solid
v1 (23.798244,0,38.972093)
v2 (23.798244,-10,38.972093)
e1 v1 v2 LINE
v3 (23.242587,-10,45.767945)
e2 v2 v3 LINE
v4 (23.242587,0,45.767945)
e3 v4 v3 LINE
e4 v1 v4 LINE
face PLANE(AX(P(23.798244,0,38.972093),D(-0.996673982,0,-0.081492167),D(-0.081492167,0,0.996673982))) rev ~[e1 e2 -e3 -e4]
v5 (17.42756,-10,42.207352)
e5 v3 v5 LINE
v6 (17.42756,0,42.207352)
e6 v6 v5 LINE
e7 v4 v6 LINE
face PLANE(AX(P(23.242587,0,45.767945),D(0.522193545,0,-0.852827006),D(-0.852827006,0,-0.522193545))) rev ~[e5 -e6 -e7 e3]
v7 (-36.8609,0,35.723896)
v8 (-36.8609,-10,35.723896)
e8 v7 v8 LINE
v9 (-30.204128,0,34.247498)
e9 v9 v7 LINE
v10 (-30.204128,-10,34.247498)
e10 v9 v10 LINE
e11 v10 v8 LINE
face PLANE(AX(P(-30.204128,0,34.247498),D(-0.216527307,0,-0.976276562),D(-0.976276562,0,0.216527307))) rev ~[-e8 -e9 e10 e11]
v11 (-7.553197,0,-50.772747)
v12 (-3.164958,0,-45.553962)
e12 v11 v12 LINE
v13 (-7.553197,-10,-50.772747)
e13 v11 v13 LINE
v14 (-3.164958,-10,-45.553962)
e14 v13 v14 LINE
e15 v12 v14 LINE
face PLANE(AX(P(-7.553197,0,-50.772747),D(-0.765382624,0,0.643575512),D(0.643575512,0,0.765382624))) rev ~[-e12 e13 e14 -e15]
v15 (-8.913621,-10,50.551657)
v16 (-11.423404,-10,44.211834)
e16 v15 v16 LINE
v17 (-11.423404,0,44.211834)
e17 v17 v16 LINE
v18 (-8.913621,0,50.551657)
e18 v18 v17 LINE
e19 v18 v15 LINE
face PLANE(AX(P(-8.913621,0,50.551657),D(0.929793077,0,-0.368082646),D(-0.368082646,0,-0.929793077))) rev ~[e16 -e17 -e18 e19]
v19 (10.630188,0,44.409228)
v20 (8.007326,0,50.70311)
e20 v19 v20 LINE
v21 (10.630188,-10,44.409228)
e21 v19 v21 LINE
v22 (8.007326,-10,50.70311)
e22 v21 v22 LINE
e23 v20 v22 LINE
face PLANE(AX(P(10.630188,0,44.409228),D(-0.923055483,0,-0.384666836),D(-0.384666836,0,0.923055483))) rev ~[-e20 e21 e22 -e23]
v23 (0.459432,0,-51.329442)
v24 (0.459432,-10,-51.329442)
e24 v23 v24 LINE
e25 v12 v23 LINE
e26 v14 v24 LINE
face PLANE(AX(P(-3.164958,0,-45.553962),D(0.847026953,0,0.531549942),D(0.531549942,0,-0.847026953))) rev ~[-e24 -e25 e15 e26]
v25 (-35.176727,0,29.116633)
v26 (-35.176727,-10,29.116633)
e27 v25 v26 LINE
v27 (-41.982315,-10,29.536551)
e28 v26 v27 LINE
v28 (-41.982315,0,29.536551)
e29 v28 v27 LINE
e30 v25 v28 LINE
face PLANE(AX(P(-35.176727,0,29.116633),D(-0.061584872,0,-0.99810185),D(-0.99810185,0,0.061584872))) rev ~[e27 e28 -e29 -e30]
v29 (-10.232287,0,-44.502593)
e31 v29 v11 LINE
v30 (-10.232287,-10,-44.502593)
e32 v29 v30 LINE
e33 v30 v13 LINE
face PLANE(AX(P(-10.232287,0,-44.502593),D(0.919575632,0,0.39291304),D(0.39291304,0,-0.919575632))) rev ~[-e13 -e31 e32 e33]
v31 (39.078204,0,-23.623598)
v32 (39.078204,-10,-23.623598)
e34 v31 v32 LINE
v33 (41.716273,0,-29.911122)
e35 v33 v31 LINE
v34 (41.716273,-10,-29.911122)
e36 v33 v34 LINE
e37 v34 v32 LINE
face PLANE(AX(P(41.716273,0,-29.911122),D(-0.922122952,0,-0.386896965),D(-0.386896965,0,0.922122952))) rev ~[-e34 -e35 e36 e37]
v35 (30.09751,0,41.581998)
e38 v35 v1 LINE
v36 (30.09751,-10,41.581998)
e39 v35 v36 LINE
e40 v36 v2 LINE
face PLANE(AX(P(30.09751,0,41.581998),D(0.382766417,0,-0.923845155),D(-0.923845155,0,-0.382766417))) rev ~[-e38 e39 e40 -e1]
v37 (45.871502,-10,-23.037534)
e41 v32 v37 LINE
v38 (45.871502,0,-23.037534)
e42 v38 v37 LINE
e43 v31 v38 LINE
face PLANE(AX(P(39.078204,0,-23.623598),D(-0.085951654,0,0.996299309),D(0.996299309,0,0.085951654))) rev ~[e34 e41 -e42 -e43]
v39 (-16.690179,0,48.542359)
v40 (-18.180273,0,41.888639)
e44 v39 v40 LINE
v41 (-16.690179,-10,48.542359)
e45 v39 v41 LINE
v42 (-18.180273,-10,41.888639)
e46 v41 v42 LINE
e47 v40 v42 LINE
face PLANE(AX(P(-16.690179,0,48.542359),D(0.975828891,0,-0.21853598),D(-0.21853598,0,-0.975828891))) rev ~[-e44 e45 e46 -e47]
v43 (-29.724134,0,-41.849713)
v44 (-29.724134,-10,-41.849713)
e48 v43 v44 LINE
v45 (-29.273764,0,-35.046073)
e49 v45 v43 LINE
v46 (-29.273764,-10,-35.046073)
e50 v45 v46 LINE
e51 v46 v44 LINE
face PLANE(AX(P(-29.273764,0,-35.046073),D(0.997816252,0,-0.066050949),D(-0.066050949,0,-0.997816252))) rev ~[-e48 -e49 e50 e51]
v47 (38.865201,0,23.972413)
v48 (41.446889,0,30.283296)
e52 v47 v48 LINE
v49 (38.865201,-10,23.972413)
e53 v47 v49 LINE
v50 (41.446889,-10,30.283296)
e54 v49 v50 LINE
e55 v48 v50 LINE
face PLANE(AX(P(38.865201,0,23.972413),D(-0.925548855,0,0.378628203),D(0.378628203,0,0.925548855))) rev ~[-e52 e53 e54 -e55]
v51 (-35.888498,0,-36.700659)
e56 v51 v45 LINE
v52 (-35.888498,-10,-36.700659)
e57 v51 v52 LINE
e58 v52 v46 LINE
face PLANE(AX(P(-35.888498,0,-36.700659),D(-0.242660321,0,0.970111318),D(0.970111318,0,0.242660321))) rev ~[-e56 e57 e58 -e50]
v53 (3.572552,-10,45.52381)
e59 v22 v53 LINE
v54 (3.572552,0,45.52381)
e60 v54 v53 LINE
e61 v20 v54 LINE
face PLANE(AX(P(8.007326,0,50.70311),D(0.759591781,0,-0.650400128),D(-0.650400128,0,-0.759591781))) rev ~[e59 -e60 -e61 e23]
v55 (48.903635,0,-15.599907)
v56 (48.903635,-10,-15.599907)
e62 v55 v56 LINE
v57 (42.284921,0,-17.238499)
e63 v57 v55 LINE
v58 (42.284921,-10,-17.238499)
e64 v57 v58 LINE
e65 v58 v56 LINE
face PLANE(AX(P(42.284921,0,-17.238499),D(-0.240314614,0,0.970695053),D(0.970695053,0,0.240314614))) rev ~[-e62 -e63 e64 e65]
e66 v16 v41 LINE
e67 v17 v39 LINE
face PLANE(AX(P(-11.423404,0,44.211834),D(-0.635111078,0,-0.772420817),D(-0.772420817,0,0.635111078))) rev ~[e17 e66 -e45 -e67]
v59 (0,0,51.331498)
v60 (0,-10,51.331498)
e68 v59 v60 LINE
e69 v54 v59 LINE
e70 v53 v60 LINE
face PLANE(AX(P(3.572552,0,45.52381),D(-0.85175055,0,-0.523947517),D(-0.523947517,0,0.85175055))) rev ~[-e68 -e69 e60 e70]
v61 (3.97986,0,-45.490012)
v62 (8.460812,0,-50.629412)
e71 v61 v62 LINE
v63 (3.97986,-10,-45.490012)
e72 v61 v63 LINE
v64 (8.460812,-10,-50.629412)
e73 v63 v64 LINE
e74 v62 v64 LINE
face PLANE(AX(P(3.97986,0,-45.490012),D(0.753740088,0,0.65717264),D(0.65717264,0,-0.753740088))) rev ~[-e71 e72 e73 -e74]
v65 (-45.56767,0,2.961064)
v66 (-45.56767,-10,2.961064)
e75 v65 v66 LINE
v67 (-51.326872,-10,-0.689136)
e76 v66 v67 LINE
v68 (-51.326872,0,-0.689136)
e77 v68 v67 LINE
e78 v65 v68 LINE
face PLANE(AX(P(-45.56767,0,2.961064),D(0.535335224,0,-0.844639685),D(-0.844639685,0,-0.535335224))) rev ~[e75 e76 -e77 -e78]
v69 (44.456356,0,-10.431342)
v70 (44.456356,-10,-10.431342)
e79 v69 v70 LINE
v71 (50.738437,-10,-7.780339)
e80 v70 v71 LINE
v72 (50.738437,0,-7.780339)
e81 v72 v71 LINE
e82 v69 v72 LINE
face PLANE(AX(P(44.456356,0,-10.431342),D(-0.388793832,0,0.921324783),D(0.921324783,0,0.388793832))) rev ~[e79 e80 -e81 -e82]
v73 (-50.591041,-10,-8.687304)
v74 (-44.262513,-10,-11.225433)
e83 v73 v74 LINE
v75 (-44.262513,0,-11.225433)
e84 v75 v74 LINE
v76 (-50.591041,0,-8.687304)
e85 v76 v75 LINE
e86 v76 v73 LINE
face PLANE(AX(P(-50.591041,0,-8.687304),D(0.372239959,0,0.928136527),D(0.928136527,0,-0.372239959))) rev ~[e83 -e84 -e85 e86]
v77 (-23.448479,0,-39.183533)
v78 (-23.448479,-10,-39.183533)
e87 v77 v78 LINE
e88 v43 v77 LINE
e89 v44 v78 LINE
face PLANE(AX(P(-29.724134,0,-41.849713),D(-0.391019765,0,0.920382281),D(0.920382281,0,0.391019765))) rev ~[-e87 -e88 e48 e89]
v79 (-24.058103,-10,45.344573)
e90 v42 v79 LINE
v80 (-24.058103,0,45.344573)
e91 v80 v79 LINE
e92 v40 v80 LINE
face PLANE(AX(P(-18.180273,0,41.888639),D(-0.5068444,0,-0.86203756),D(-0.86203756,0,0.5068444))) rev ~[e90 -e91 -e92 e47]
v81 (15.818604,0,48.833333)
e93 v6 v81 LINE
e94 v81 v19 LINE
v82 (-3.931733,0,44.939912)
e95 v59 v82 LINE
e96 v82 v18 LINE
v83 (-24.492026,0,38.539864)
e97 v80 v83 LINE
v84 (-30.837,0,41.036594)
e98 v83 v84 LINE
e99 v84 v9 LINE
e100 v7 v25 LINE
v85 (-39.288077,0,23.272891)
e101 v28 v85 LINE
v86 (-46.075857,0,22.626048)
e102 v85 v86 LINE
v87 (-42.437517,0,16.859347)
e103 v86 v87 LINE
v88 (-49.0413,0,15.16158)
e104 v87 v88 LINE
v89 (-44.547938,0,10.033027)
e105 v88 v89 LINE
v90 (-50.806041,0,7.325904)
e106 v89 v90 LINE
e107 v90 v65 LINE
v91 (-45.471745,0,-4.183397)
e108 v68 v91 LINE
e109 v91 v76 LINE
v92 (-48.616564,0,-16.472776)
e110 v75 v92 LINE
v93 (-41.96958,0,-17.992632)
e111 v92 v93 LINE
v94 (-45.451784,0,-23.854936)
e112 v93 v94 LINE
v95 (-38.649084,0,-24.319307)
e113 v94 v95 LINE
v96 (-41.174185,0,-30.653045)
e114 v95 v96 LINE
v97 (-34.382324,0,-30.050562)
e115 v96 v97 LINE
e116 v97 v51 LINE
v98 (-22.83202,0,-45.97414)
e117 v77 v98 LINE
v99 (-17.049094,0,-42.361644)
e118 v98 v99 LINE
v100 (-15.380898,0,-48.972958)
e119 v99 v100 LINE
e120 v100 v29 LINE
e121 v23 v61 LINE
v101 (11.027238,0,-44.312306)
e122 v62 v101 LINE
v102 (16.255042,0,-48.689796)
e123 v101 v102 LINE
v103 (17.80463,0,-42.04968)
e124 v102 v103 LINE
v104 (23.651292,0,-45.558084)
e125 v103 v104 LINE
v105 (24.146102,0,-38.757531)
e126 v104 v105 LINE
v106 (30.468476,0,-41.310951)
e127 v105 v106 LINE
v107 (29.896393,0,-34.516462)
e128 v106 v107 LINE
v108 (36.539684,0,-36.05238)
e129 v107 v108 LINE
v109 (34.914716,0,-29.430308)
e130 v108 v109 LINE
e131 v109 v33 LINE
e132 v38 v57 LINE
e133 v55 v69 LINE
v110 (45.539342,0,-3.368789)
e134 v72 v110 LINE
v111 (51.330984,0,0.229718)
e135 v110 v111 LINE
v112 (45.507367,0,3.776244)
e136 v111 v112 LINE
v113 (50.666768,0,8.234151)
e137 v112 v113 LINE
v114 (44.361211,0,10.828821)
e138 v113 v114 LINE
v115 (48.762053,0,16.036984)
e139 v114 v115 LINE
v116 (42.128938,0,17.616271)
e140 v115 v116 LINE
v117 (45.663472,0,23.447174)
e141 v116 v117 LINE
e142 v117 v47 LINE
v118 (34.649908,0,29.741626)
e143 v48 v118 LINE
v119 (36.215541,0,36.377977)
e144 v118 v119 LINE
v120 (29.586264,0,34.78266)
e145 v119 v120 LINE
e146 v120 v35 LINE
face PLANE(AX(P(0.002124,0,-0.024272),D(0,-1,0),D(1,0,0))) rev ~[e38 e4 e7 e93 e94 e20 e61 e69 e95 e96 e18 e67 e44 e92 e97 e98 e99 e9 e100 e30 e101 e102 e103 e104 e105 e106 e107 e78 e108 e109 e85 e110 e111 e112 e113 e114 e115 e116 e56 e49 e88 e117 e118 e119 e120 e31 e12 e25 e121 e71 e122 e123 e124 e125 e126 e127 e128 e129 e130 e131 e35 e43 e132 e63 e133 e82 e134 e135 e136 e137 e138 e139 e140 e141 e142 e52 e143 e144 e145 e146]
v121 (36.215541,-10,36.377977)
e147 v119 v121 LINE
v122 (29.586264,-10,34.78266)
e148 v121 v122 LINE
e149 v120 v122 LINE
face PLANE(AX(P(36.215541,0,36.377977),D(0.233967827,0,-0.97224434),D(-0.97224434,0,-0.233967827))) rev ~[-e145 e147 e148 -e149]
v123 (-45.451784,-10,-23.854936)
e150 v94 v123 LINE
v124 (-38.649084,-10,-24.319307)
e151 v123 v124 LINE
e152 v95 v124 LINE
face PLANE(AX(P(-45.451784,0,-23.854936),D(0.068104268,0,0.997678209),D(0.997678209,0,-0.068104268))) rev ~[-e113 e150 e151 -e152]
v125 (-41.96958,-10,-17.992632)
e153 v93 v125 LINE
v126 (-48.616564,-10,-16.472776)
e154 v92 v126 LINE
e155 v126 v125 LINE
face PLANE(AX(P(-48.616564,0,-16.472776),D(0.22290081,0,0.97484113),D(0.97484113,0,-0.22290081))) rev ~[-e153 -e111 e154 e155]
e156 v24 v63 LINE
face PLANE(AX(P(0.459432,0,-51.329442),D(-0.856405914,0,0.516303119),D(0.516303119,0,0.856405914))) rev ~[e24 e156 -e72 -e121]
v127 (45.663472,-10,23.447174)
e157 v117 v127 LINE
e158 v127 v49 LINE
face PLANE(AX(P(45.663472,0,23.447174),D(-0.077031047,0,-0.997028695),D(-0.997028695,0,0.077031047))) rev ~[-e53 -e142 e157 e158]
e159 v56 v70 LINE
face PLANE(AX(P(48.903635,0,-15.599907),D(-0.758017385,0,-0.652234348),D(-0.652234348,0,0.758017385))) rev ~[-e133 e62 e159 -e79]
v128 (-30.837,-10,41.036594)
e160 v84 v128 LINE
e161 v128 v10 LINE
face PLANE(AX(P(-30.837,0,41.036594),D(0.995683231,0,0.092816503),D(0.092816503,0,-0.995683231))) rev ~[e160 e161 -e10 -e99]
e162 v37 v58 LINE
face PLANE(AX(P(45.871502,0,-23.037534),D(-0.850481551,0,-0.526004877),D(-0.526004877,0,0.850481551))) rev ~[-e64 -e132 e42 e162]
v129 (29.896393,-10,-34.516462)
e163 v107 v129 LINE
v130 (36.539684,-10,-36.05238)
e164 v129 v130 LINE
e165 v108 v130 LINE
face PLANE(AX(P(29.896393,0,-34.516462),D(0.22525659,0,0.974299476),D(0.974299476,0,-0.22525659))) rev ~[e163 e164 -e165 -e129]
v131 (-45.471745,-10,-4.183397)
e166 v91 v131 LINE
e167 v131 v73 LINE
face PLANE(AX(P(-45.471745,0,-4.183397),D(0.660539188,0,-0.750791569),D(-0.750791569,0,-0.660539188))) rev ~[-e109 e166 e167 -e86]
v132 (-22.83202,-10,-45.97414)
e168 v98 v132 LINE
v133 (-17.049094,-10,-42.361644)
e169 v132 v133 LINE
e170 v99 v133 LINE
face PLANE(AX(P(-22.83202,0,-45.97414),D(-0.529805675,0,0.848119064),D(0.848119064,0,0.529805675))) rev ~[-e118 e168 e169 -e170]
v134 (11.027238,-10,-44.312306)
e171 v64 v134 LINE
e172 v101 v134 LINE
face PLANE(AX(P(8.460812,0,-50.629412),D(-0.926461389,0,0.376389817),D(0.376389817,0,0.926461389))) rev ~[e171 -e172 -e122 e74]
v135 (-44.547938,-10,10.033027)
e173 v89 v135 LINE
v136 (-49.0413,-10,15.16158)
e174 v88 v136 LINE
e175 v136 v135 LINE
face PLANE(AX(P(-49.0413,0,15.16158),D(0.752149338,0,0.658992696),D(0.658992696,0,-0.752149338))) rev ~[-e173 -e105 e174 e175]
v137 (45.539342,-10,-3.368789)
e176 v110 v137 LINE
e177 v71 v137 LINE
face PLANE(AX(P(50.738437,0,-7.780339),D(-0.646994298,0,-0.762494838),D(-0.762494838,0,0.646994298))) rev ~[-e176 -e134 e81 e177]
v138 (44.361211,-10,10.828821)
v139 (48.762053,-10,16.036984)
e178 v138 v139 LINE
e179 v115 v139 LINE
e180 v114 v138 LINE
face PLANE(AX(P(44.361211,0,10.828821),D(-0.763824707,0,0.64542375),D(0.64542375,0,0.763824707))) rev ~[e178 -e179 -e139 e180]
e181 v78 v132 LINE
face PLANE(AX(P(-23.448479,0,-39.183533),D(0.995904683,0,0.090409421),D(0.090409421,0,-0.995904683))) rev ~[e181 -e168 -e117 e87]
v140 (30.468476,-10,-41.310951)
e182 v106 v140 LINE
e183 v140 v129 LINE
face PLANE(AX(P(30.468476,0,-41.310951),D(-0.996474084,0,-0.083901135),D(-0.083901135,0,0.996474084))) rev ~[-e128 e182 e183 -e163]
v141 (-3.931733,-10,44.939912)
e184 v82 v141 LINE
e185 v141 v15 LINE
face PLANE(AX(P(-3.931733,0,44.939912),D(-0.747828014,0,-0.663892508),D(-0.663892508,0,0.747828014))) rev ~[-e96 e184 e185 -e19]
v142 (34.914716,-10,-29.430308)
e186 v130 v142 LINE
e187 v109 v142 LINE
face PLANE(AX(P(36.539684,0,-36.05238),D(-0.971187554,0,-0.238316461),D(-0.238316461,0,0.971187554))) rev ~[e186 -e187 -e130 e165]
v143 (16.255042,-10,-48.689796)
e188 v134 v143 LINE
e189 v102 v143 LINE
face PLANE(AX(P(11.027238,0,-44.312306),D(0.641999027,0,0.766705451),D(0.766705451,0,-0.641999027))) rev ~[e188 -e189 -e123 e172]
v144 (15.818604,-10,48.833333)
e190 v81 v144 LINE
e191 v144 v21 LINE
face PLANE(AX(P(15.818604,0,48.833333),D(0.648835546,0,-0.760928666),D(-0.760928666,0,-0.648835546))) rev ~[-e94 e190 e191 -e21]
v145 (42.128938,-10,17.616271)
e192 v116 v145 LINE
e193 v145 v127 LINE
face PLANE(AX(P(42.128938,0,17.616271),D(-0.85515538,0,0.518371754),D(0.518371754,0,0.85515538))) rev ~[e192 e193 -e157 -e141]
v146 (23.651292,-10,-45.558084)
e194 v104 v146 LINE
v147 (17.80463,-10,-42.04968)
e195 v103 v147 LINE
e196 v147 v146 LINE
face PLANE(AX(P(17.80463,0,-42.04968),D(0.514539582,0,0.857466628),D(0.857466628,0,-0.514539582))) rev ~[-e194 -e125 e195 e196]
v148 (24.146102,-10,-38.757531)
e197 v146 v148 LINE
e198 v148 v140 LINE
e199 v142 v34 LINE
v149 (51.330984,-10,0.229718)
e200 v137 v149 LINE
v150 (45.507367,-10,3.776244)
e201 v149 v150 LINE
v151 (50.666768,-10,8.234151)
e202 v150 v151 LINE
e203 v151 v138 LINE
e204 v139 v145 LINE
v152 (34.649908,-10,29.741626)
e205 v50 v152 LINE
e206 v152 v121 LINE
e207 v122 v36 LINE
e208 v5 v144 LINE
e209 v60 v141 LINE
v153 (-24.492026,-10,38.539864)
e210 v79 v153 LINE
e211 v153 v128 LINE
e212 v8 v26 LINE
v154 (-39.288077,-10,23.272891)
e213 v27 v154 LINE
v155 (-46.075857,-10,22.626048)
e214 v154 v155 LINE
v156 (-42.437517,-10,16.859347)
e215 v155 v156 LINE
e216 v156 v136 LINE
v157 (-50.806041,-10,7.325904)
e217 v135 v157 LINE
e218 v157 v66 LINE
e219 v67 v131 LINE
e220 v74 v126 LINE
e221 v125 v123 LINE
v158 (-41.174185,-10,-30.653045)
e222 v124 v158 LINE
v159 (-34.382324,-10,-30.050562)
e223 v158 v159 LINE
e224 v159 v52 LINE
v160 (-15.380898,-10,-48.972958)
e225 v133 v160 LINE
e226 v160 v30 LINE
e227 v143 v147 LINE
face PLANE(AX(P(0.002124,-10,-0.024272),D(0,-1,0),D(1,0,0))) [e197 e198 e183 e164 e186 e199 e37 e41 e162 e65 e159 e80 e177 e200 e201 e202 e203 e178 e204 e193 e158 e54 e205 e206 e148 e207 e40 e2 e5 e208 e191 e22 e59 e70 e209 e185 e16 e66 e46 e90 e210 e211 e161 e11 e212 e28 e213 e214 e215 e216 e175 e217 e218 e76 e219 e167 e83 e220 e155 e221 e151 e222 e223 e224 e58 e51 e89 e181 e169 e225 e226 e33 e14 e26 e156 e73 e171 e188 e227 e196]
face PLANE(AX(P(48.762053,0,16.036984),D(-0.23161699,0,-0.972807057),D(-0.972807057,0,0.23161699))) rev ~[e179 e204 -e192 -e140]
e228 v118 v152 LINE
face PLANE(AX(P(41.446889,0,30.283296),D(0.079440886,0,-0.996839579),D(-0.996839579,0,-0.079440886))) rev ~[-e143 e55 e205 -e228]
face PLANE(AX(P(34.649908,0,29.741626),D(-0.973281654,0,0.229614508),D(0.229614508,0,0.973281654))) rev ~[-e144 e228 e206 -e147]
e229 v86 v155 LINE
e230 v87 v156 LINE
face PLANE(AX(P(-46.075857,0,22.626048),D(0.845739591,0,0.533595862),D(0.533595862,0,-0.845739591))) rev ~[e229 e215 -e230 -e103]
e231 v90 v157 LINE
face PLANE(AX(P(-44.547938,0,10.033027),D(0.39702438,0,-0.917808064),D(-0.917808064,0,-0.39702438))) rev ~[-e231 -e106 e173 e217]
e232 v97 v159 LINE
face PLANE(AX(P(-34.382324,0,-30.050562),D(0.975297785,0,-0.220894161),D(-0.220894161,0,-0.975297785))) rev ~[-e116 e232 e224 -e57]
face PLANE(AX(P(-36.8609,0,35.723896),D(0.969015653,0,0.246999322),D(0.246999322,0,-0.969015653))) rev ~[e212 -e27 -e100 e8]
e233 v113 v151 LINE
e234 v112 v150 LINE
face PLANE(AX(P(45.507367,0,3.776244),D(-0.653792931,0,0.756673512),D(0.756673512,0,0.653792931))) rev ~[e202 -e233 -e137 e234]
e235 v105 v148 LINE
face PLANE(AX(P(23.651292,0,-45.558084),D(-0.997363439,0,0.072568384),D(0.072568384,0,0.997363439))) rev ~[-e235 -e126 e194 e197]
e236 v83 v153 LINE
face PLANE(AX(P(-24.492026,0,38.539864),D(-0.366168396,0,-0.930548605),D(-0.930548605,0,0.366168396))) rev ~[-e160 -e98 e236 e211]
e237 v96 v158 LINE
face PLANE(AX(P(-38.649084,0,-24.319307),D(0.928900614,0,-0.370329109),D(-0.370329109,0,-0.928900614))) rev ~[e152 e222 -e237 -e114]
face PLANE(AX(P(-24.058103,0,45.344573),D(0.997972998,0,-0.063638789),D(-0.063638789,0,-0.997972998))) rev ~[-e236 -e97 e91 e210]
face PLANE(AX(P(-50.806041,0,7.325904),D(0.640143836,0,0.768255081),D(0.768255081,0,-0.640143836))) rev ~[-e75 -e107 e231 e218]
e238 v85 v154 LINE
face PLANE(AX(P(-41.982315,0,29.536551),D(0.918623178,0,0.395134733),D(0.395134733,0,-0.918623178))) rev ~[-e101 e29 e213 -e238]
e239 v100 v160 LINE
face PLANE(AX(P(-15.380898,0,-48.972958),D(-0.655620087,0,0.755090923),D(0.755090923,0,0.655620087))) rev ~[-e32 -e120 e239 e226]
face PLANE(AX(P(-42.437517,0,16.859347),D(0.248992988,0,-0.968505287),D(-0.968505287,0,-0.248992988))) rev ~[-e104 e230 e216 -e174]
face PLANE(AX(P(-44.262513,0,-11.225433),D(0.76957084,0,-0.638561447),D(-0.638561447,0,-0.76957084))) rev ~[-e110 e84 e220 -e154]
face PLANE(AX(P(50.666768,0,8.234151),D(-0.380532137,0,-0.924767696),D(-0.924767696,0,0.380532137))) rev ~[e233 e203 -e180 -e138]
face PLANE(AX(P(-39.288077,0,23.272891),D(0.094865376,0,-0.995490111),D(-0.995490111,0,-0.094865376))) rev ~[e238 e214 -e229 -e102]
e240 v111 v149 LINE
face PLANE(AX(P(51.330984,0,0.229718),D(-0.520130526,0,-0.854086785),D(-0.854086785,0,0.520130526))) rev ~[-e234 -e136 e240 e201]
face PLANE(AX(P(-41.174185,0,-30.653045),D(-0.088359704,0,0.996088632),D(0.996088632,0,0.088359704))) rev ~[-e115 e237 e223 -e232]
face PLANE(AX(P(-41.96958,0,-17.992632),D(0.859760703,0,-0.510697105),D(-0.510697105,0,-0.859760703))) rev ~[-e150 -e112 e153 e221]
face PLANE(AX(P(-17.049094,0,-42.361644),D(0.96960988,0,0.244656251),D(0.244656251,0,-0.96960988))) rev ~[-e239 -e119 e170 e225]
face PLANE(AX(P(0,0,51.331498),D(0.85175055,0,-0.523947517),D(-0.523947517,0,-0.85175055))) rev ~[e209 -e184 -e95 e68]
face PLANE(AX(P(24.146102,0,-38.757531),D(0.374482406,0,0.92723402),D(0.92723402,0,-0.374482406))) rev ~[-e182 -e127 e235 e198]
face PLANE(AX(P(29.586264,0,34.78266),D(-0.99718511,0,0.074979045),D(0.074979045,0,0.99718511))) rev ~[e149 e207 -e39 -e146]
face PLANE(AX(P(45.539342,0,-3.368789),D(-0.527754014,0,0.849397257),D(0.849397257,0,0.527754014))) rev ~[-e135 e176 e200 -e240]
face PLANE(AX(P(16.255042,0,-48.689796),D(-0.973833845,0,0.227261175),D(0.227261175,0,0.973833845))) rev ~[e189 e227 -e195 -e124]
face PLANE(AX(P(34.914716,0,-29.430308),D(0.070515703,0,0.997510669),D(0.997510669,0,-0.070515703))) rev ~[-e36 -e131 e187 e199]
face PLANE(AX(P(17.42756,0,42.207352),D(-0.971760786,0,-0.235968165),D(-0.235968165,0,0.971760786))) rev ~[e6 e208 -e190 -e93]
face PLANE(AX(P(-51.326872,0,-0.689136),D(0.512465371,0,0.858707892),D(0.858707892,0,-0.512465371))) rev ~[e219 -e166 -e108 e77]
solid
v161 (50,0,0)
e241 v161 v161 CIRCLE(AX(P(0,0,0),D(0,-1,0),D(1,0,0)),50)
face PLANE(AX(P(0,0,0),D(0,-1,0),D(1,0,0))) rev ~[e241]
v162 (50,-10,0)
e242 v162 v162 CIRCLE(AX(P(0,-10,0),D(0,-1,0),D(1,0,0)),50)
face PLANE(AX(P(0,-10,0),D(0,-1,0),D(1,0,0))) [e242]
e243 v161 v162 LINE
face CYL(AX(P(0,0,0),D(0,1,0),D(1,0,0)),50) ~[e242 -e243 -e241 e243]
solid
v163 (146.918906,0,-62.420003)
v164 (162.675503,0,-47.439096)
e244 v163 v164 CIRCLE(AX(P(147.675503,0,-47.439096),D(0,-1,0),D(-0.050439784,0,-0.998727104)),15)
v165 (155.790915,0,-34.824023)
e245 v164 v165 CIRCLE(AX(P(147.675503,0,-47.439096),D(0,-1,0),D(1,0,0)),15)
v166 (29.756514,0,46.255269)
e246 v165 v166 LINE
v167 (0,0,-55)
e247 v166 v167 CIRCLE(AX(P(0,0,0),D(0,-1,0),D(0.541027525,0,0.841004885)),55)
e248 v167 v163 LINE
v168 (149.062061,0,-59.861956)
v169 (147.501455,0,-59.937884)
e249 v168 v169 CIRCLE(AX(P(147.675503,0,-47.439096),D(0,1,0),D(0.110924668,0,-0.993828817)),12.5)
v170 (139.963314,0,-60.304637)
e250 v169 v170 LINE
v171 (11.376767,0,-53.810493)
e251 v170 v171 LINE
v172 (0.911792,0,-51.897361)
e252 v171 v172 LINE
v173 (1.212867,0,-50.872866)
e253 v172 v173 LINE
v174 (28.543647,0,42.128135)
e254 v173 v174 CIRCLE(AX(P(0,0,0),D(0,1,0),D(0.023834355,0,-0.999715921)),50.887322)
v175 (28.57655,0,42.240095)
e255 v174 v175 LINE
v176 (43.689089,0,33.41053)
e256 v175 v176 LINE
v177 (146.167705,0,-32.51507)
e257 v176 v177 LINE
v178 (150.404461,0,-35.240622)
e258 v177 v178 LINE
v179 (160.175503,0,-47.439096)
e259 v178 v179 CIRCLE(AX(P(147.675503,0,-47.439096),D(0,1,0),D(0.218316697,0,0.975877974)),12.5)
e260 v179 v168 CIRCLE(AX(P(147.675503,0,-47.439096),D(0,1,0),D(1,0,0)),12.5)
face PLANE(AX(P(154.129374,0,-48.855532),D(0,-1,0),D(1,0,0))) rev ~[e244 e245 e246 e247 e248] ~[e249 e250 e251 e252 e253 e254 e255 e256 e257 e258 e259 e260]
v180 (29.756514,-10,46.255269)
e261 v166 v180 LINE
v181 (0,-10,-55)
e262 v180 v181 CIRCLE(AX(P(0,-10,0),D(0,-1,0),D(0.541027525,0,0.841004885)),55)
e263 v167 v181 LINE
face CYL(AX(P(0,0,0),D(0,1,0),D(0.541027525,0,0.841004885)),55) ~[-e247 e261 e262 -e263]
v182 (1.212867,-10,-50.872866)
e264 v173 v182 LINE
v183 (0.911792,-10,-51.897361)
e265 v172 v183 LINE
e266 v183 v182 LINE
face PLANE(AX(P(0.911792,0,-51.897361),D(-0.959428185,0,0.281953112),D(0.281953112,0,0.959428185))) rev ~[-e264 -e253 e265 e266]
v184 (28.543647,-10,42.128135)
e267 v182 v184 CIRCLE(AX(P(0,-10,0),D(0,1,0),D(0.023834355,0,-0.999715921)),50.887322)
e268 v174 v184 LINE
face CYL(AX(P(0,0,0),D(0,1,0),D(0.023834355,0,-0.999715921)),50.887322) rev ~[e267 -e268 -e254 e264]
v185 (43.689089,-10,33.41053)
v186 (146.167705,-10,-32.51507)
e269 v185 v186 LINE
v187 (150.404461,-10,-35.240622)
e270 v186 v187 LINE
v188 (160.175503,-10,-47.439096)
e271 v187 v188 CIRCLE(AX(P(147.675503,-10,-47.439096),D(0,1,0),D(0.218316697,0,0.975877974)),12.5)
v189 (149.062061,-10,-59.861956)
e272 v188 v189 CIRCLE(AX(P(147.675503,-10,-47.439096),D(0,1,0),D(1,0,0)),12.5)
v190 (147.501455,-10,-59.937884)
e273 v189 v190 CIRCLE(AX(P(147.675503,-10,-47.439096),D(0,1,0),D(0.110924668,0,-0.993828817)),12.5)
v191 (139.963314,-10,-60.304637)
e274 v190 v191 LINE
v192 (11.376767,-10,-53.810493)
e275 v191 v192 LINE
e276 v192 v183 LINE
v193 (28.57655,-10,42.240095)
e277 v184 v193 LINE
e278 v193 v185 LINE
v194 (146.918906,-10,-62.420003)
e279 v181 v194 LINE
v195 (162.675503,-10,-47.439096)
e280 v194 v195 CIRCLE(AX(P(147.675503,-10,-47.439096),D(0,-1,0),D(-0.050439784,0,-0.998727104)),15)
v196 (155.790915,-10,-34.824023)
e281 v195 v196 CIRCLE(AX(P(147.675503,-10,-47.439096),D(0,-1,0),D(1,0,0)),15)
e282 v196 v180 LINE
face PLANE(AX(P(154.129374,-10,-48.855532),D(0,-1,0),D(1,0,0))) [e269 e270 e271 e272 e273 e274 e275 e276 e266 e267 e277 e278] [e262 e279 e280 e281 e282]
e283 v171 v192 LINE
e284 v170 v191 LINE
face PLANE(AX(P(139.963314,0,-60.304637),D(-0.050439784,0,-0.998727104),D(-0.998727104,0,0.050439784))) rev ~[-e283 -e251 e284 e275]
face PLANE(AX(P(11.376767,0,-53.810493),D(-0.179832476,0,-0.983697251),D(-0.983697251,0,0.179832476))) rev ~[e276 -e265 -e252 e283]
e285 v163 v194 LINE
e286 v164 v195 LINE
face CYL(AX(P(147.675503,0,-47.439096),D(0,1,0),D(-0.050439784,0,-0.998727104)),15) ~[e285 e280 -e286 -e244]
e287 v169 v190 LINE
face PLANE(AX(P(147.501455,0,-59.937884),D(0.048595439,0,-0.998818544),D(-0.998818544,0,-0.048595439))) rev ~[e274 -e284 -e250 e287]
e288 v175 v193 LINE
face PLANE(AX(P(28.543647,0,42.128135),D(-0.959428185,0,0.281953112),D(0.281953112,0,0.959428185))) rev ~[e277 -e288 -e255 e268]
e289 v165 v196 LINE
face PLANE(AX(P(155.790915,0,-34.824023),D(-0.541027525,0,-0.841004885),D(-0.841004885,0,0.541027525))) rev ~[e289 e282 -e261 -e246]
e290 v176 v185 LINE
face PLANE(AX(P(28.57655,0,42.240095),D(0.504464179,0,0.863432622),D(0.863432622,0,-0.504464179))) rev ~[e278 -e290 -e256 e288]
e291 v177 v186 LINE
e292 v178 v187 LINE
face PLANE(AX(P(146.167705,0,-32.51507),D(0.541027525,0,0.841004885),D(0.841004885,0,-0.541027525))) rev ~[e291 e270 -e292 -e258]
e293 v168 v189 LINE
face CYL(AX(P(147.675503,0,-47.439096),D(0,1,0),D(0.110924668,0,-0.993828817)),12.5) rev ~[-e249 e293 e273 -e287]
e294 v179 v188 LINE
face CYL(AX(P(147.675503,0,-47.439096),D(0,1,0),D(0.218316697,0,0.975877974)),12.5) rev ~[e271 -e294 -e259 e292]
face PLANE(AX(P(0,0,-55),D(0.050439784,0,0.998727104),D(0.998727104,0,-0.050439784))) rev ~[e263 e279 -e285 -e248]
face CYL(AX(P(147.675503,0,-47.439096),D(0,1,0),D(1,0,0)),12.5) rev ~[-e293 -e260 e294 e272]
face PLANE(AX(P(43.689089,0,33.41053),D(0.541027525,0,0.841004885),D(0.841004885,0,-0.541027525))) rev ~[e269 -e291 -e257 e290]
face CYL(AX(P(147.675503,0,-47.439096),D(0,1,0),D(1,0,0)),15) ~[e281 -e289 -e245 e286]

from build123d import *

# Parameters (mm, degrees)
F0_R     = 50
F1_DEPTH = 10
F3_DEPTH = 10
F5_DEPTH = 10


with BuildPart() as f1:
    # F0 (on Front) → F1 (new body)
    with BuildSketch(Plane.XZ):
        Circle(F0_R)
    extrude(amount=F1_DEPTH)


with BuildPart() as f3:
    # F2 (on Front) → F3 (new body)
    with BuildSketch(Plane.XZ):
        with BuildLine():
            ThreePointArc((150.4044612389, -35.2406215734), (157.4315771407, -39.6244300326), (160.1755025209, -47.4390962451))
            ThreePointArc((160.1755025209, -47.4390962451), (156.99167071, -55.7733034822), (149.0620608774, -59.8619564602))
            ThreePointArc((149.0620608774, -59.8619564602), (148.2829455049, -59.9243280419), (147.5014551334, -59.9378844866))
            Line((147.5014551334, -59.9378844866), (139.9633135414, -60.3046370866))
            ThreePointArc((139.9633135414, -60.3046370866), (143.31101217, -61.7900970456), (146.9189057568, -62.4200028043))
            ThreePointArc((146.9189057568, -62.4200028043), (158.0111459101, -58.3099046663), (162.6755025209, -47.4390962451))
            ThreePointArc((162.6755025209, -47.4390962451), (160.8423395216, -40.2533879714), (155.7909154015, -34.8240229684))
            ThreePointArc((155.7909154015, -34.8240229684), (151.1752111055, -32.8530741752), (146.1677048631, -32.5150704403))
            Line((146.1677048631, -32.5150704403), (150.4044612389, -35.2406215734))
        make_face()
        with BuildLine():
            Line((43.6890888609, 33.4105299944), (146.1677048631, -32.5150704403))
            ThreePointArc((146.1677048631, -32.5150704403), (151.1752111055, -32.8530741752), (155.7909154015, -34.8240229684))
            Line((155.7909154015, -34.8240229684), (29.7565138957, 46.2552686813))
            ThreePointArc((29.7565138957, 46.2552686813), (37.280168576, 40.43747063), (43.6890888609, 33.4105299944))
        make_face()
        with BuildLine():
            ThreePointArc((146.9189057568, -62.4200028043), (143.31101217, -61.7900970456), (139.9633135414, -60.3046370866))
            Line((139.9633135414, -60.3046370866), (11.3767673734, -53.8104930672))
            ThreePointArc((11.3767673734, -53.8104930672), (5.7193916331, -54.7018149548), (0, -55))
            Line((0, -55), (146.9189057568, -62.4200028043))
        make_face()
        with BuildLine():
            Line((28.5765499261, 42.2400950895), (43.6890888609, 33.4105299944))
            ThreePointArc((43.6890888609, 33.4105299944), (37.280168576, 40.43747063), (29.7565138957, 46.2552686813))
            Line((29.7565138957, 46.2552686813), (28.5765499261, 42.2400950895))
        make_face()
        with BuildLine():
            ThreePointArc((0, -55), (5.7193916331, -54.7018149548), (11.3767673734, -53.8104930672))
            Line((11.3767673734, -53.8104930672), (0.9117916884, -51.897361273))
            Line((0.9117916884, -51.897361273), (0, -55))
        make_face()
        with BuildLine():
            Line((28.5765499261, 42.2400950895), (29.7565138957, 46.2552686813))
            ThreePointArc((29.7565138957, 46.2552686813), (-52.768550186, 15.5074211675), (0, -55))
            Line((0, -55), (0.9117916884, -51.897361273))
            Line((0.9117916884, -51.897361273), (1.212866517, -50.8728658376))
            ThreePointArc((1.212866517, -50.8728658376), (-48.8227308396, 14.3478387601), (28.5436473787, 42.1281345189))
            Line((28.5436473787, 42.1281345189), (28.5765499261, 42.2400950895))
        make_face()
    extrude(amount=F3_DEPTH)


with BuildPart() as f5:
    # F4 (on Front) → F5 (new body)
    with BuildSketch(Plane.XZ):
        Polygon((0, 51.3314977288), (-3.9317328197, 44.9399117696), (-8.9136210375, 50.5516569371), (-11.423403875, 44.2118342568), (-16.6901789612, 48.5423586708), (-18.1802732615, 41.8886393737), (-24.0581028646, 45.3445734972), (-24.4920259018, 38.5398639291), (-30.8370001723, 41.036594394), (-30.2041279911, 34.2474976712), (-36.8608997426, 35.7238957737), (-35.1767272699, 29.1166327555), (-41.9823154217, 29.5365511005), (-39.2880770967, 23.2728907205), (-46.0758570217, 22.6260482366), (-42.4375172321, 16.8593468324), (-49.0413003108, 15.1615804885), (-44.5479383542, 10.0330271023), (-50.8060408542, 7.325904163), (-45.5676699643, 2.9610637388), (-51.3268716242, -0.6891359474), (-45.4717454622, -4.1833968329), (-50.59104086, -8.6873035969), (-44.2625134156, -11.2254332023), (-48.6165642751, -16.4727756364), (-41.9695800589, -17.9926316619), (-45.4517839698, -23.8549364503), (-38.6490844293, -24.3193074988), (-41.1741848471, -30.6530448937), (-34.3823238862, -30.0505615359), (-35.8884975114, -36.700659469), (-29.2737636675, -35.0460726071), (-29.7241340958, -41.8497133961), (-23.4484792145, -39.1835331099), (-22.832019801, -45.9741398059), (-17.0490938873, -42.3616435241), (-15.3808977169, -48.9729582985), (-10.2322870458, -44.502592579), (-7.5531974018, -50.7727472971), (-3.1649579898, -45.5539623454), (0.4594316326, -51.3294416652), (3.9798603195, -45.49001161), (8.460812172, -50.6294115754), (11.0272377131, -44.3123061109), (16.2550424046, -48.6897962155), (17.8046297165, -42.0496802021), (23.6512922834, -45.5580841609), (24.146102043, -38.7575308885), (30.468475714, -41.310950688), (29.8963932458, -34.5164615124), (36.5396841763, -36.0523804954), (34.9147160622, -29.4303083018), (41.7162732291, -29.9111217937), (39.0782043783, -23.6235980962), (45.8715018472, -23.0375340992), (42.2849214221, -17.238499493), (48.9036354846, -15.5999069058), (44.4563555322, -10.4313420631), (50.7384368933, -7.7803393696), (45.5393423986, -3.3687888549), (51.3309837103, 0.2297181166), (45.5073667107, 3.7762440999), (50.6667683148, 8.234151299), (44.3612113454, 10.828821377), (48.7620530254, 16.0369836264), (42.1289381991, 17.6162711905), (45.6634719415, 23.4471744424), (38.8652011347, 23.9724130034), (41.4468891775, 30.2832963297), (34.6499078631, 29.7416262084), (36.2155414436, 36.3779770883), (29.5862635232, 34.782660266), (30.0975104493, 41.5819975932), (23.7982438584, 38.9720930116), (23.2425870152, 45.767945201), (17.4275598562, 42.2073524626), (15.8186036689, 48.8333332576), (10.6301881676, 44.4092281397), (8.0073255173, 50.7031103301), (3.5725522519, 45.5238104167), align=None)
    extrude(amount=F5_DEPTH)


solid = Compound([f1.part, f3.part, f5.part])
